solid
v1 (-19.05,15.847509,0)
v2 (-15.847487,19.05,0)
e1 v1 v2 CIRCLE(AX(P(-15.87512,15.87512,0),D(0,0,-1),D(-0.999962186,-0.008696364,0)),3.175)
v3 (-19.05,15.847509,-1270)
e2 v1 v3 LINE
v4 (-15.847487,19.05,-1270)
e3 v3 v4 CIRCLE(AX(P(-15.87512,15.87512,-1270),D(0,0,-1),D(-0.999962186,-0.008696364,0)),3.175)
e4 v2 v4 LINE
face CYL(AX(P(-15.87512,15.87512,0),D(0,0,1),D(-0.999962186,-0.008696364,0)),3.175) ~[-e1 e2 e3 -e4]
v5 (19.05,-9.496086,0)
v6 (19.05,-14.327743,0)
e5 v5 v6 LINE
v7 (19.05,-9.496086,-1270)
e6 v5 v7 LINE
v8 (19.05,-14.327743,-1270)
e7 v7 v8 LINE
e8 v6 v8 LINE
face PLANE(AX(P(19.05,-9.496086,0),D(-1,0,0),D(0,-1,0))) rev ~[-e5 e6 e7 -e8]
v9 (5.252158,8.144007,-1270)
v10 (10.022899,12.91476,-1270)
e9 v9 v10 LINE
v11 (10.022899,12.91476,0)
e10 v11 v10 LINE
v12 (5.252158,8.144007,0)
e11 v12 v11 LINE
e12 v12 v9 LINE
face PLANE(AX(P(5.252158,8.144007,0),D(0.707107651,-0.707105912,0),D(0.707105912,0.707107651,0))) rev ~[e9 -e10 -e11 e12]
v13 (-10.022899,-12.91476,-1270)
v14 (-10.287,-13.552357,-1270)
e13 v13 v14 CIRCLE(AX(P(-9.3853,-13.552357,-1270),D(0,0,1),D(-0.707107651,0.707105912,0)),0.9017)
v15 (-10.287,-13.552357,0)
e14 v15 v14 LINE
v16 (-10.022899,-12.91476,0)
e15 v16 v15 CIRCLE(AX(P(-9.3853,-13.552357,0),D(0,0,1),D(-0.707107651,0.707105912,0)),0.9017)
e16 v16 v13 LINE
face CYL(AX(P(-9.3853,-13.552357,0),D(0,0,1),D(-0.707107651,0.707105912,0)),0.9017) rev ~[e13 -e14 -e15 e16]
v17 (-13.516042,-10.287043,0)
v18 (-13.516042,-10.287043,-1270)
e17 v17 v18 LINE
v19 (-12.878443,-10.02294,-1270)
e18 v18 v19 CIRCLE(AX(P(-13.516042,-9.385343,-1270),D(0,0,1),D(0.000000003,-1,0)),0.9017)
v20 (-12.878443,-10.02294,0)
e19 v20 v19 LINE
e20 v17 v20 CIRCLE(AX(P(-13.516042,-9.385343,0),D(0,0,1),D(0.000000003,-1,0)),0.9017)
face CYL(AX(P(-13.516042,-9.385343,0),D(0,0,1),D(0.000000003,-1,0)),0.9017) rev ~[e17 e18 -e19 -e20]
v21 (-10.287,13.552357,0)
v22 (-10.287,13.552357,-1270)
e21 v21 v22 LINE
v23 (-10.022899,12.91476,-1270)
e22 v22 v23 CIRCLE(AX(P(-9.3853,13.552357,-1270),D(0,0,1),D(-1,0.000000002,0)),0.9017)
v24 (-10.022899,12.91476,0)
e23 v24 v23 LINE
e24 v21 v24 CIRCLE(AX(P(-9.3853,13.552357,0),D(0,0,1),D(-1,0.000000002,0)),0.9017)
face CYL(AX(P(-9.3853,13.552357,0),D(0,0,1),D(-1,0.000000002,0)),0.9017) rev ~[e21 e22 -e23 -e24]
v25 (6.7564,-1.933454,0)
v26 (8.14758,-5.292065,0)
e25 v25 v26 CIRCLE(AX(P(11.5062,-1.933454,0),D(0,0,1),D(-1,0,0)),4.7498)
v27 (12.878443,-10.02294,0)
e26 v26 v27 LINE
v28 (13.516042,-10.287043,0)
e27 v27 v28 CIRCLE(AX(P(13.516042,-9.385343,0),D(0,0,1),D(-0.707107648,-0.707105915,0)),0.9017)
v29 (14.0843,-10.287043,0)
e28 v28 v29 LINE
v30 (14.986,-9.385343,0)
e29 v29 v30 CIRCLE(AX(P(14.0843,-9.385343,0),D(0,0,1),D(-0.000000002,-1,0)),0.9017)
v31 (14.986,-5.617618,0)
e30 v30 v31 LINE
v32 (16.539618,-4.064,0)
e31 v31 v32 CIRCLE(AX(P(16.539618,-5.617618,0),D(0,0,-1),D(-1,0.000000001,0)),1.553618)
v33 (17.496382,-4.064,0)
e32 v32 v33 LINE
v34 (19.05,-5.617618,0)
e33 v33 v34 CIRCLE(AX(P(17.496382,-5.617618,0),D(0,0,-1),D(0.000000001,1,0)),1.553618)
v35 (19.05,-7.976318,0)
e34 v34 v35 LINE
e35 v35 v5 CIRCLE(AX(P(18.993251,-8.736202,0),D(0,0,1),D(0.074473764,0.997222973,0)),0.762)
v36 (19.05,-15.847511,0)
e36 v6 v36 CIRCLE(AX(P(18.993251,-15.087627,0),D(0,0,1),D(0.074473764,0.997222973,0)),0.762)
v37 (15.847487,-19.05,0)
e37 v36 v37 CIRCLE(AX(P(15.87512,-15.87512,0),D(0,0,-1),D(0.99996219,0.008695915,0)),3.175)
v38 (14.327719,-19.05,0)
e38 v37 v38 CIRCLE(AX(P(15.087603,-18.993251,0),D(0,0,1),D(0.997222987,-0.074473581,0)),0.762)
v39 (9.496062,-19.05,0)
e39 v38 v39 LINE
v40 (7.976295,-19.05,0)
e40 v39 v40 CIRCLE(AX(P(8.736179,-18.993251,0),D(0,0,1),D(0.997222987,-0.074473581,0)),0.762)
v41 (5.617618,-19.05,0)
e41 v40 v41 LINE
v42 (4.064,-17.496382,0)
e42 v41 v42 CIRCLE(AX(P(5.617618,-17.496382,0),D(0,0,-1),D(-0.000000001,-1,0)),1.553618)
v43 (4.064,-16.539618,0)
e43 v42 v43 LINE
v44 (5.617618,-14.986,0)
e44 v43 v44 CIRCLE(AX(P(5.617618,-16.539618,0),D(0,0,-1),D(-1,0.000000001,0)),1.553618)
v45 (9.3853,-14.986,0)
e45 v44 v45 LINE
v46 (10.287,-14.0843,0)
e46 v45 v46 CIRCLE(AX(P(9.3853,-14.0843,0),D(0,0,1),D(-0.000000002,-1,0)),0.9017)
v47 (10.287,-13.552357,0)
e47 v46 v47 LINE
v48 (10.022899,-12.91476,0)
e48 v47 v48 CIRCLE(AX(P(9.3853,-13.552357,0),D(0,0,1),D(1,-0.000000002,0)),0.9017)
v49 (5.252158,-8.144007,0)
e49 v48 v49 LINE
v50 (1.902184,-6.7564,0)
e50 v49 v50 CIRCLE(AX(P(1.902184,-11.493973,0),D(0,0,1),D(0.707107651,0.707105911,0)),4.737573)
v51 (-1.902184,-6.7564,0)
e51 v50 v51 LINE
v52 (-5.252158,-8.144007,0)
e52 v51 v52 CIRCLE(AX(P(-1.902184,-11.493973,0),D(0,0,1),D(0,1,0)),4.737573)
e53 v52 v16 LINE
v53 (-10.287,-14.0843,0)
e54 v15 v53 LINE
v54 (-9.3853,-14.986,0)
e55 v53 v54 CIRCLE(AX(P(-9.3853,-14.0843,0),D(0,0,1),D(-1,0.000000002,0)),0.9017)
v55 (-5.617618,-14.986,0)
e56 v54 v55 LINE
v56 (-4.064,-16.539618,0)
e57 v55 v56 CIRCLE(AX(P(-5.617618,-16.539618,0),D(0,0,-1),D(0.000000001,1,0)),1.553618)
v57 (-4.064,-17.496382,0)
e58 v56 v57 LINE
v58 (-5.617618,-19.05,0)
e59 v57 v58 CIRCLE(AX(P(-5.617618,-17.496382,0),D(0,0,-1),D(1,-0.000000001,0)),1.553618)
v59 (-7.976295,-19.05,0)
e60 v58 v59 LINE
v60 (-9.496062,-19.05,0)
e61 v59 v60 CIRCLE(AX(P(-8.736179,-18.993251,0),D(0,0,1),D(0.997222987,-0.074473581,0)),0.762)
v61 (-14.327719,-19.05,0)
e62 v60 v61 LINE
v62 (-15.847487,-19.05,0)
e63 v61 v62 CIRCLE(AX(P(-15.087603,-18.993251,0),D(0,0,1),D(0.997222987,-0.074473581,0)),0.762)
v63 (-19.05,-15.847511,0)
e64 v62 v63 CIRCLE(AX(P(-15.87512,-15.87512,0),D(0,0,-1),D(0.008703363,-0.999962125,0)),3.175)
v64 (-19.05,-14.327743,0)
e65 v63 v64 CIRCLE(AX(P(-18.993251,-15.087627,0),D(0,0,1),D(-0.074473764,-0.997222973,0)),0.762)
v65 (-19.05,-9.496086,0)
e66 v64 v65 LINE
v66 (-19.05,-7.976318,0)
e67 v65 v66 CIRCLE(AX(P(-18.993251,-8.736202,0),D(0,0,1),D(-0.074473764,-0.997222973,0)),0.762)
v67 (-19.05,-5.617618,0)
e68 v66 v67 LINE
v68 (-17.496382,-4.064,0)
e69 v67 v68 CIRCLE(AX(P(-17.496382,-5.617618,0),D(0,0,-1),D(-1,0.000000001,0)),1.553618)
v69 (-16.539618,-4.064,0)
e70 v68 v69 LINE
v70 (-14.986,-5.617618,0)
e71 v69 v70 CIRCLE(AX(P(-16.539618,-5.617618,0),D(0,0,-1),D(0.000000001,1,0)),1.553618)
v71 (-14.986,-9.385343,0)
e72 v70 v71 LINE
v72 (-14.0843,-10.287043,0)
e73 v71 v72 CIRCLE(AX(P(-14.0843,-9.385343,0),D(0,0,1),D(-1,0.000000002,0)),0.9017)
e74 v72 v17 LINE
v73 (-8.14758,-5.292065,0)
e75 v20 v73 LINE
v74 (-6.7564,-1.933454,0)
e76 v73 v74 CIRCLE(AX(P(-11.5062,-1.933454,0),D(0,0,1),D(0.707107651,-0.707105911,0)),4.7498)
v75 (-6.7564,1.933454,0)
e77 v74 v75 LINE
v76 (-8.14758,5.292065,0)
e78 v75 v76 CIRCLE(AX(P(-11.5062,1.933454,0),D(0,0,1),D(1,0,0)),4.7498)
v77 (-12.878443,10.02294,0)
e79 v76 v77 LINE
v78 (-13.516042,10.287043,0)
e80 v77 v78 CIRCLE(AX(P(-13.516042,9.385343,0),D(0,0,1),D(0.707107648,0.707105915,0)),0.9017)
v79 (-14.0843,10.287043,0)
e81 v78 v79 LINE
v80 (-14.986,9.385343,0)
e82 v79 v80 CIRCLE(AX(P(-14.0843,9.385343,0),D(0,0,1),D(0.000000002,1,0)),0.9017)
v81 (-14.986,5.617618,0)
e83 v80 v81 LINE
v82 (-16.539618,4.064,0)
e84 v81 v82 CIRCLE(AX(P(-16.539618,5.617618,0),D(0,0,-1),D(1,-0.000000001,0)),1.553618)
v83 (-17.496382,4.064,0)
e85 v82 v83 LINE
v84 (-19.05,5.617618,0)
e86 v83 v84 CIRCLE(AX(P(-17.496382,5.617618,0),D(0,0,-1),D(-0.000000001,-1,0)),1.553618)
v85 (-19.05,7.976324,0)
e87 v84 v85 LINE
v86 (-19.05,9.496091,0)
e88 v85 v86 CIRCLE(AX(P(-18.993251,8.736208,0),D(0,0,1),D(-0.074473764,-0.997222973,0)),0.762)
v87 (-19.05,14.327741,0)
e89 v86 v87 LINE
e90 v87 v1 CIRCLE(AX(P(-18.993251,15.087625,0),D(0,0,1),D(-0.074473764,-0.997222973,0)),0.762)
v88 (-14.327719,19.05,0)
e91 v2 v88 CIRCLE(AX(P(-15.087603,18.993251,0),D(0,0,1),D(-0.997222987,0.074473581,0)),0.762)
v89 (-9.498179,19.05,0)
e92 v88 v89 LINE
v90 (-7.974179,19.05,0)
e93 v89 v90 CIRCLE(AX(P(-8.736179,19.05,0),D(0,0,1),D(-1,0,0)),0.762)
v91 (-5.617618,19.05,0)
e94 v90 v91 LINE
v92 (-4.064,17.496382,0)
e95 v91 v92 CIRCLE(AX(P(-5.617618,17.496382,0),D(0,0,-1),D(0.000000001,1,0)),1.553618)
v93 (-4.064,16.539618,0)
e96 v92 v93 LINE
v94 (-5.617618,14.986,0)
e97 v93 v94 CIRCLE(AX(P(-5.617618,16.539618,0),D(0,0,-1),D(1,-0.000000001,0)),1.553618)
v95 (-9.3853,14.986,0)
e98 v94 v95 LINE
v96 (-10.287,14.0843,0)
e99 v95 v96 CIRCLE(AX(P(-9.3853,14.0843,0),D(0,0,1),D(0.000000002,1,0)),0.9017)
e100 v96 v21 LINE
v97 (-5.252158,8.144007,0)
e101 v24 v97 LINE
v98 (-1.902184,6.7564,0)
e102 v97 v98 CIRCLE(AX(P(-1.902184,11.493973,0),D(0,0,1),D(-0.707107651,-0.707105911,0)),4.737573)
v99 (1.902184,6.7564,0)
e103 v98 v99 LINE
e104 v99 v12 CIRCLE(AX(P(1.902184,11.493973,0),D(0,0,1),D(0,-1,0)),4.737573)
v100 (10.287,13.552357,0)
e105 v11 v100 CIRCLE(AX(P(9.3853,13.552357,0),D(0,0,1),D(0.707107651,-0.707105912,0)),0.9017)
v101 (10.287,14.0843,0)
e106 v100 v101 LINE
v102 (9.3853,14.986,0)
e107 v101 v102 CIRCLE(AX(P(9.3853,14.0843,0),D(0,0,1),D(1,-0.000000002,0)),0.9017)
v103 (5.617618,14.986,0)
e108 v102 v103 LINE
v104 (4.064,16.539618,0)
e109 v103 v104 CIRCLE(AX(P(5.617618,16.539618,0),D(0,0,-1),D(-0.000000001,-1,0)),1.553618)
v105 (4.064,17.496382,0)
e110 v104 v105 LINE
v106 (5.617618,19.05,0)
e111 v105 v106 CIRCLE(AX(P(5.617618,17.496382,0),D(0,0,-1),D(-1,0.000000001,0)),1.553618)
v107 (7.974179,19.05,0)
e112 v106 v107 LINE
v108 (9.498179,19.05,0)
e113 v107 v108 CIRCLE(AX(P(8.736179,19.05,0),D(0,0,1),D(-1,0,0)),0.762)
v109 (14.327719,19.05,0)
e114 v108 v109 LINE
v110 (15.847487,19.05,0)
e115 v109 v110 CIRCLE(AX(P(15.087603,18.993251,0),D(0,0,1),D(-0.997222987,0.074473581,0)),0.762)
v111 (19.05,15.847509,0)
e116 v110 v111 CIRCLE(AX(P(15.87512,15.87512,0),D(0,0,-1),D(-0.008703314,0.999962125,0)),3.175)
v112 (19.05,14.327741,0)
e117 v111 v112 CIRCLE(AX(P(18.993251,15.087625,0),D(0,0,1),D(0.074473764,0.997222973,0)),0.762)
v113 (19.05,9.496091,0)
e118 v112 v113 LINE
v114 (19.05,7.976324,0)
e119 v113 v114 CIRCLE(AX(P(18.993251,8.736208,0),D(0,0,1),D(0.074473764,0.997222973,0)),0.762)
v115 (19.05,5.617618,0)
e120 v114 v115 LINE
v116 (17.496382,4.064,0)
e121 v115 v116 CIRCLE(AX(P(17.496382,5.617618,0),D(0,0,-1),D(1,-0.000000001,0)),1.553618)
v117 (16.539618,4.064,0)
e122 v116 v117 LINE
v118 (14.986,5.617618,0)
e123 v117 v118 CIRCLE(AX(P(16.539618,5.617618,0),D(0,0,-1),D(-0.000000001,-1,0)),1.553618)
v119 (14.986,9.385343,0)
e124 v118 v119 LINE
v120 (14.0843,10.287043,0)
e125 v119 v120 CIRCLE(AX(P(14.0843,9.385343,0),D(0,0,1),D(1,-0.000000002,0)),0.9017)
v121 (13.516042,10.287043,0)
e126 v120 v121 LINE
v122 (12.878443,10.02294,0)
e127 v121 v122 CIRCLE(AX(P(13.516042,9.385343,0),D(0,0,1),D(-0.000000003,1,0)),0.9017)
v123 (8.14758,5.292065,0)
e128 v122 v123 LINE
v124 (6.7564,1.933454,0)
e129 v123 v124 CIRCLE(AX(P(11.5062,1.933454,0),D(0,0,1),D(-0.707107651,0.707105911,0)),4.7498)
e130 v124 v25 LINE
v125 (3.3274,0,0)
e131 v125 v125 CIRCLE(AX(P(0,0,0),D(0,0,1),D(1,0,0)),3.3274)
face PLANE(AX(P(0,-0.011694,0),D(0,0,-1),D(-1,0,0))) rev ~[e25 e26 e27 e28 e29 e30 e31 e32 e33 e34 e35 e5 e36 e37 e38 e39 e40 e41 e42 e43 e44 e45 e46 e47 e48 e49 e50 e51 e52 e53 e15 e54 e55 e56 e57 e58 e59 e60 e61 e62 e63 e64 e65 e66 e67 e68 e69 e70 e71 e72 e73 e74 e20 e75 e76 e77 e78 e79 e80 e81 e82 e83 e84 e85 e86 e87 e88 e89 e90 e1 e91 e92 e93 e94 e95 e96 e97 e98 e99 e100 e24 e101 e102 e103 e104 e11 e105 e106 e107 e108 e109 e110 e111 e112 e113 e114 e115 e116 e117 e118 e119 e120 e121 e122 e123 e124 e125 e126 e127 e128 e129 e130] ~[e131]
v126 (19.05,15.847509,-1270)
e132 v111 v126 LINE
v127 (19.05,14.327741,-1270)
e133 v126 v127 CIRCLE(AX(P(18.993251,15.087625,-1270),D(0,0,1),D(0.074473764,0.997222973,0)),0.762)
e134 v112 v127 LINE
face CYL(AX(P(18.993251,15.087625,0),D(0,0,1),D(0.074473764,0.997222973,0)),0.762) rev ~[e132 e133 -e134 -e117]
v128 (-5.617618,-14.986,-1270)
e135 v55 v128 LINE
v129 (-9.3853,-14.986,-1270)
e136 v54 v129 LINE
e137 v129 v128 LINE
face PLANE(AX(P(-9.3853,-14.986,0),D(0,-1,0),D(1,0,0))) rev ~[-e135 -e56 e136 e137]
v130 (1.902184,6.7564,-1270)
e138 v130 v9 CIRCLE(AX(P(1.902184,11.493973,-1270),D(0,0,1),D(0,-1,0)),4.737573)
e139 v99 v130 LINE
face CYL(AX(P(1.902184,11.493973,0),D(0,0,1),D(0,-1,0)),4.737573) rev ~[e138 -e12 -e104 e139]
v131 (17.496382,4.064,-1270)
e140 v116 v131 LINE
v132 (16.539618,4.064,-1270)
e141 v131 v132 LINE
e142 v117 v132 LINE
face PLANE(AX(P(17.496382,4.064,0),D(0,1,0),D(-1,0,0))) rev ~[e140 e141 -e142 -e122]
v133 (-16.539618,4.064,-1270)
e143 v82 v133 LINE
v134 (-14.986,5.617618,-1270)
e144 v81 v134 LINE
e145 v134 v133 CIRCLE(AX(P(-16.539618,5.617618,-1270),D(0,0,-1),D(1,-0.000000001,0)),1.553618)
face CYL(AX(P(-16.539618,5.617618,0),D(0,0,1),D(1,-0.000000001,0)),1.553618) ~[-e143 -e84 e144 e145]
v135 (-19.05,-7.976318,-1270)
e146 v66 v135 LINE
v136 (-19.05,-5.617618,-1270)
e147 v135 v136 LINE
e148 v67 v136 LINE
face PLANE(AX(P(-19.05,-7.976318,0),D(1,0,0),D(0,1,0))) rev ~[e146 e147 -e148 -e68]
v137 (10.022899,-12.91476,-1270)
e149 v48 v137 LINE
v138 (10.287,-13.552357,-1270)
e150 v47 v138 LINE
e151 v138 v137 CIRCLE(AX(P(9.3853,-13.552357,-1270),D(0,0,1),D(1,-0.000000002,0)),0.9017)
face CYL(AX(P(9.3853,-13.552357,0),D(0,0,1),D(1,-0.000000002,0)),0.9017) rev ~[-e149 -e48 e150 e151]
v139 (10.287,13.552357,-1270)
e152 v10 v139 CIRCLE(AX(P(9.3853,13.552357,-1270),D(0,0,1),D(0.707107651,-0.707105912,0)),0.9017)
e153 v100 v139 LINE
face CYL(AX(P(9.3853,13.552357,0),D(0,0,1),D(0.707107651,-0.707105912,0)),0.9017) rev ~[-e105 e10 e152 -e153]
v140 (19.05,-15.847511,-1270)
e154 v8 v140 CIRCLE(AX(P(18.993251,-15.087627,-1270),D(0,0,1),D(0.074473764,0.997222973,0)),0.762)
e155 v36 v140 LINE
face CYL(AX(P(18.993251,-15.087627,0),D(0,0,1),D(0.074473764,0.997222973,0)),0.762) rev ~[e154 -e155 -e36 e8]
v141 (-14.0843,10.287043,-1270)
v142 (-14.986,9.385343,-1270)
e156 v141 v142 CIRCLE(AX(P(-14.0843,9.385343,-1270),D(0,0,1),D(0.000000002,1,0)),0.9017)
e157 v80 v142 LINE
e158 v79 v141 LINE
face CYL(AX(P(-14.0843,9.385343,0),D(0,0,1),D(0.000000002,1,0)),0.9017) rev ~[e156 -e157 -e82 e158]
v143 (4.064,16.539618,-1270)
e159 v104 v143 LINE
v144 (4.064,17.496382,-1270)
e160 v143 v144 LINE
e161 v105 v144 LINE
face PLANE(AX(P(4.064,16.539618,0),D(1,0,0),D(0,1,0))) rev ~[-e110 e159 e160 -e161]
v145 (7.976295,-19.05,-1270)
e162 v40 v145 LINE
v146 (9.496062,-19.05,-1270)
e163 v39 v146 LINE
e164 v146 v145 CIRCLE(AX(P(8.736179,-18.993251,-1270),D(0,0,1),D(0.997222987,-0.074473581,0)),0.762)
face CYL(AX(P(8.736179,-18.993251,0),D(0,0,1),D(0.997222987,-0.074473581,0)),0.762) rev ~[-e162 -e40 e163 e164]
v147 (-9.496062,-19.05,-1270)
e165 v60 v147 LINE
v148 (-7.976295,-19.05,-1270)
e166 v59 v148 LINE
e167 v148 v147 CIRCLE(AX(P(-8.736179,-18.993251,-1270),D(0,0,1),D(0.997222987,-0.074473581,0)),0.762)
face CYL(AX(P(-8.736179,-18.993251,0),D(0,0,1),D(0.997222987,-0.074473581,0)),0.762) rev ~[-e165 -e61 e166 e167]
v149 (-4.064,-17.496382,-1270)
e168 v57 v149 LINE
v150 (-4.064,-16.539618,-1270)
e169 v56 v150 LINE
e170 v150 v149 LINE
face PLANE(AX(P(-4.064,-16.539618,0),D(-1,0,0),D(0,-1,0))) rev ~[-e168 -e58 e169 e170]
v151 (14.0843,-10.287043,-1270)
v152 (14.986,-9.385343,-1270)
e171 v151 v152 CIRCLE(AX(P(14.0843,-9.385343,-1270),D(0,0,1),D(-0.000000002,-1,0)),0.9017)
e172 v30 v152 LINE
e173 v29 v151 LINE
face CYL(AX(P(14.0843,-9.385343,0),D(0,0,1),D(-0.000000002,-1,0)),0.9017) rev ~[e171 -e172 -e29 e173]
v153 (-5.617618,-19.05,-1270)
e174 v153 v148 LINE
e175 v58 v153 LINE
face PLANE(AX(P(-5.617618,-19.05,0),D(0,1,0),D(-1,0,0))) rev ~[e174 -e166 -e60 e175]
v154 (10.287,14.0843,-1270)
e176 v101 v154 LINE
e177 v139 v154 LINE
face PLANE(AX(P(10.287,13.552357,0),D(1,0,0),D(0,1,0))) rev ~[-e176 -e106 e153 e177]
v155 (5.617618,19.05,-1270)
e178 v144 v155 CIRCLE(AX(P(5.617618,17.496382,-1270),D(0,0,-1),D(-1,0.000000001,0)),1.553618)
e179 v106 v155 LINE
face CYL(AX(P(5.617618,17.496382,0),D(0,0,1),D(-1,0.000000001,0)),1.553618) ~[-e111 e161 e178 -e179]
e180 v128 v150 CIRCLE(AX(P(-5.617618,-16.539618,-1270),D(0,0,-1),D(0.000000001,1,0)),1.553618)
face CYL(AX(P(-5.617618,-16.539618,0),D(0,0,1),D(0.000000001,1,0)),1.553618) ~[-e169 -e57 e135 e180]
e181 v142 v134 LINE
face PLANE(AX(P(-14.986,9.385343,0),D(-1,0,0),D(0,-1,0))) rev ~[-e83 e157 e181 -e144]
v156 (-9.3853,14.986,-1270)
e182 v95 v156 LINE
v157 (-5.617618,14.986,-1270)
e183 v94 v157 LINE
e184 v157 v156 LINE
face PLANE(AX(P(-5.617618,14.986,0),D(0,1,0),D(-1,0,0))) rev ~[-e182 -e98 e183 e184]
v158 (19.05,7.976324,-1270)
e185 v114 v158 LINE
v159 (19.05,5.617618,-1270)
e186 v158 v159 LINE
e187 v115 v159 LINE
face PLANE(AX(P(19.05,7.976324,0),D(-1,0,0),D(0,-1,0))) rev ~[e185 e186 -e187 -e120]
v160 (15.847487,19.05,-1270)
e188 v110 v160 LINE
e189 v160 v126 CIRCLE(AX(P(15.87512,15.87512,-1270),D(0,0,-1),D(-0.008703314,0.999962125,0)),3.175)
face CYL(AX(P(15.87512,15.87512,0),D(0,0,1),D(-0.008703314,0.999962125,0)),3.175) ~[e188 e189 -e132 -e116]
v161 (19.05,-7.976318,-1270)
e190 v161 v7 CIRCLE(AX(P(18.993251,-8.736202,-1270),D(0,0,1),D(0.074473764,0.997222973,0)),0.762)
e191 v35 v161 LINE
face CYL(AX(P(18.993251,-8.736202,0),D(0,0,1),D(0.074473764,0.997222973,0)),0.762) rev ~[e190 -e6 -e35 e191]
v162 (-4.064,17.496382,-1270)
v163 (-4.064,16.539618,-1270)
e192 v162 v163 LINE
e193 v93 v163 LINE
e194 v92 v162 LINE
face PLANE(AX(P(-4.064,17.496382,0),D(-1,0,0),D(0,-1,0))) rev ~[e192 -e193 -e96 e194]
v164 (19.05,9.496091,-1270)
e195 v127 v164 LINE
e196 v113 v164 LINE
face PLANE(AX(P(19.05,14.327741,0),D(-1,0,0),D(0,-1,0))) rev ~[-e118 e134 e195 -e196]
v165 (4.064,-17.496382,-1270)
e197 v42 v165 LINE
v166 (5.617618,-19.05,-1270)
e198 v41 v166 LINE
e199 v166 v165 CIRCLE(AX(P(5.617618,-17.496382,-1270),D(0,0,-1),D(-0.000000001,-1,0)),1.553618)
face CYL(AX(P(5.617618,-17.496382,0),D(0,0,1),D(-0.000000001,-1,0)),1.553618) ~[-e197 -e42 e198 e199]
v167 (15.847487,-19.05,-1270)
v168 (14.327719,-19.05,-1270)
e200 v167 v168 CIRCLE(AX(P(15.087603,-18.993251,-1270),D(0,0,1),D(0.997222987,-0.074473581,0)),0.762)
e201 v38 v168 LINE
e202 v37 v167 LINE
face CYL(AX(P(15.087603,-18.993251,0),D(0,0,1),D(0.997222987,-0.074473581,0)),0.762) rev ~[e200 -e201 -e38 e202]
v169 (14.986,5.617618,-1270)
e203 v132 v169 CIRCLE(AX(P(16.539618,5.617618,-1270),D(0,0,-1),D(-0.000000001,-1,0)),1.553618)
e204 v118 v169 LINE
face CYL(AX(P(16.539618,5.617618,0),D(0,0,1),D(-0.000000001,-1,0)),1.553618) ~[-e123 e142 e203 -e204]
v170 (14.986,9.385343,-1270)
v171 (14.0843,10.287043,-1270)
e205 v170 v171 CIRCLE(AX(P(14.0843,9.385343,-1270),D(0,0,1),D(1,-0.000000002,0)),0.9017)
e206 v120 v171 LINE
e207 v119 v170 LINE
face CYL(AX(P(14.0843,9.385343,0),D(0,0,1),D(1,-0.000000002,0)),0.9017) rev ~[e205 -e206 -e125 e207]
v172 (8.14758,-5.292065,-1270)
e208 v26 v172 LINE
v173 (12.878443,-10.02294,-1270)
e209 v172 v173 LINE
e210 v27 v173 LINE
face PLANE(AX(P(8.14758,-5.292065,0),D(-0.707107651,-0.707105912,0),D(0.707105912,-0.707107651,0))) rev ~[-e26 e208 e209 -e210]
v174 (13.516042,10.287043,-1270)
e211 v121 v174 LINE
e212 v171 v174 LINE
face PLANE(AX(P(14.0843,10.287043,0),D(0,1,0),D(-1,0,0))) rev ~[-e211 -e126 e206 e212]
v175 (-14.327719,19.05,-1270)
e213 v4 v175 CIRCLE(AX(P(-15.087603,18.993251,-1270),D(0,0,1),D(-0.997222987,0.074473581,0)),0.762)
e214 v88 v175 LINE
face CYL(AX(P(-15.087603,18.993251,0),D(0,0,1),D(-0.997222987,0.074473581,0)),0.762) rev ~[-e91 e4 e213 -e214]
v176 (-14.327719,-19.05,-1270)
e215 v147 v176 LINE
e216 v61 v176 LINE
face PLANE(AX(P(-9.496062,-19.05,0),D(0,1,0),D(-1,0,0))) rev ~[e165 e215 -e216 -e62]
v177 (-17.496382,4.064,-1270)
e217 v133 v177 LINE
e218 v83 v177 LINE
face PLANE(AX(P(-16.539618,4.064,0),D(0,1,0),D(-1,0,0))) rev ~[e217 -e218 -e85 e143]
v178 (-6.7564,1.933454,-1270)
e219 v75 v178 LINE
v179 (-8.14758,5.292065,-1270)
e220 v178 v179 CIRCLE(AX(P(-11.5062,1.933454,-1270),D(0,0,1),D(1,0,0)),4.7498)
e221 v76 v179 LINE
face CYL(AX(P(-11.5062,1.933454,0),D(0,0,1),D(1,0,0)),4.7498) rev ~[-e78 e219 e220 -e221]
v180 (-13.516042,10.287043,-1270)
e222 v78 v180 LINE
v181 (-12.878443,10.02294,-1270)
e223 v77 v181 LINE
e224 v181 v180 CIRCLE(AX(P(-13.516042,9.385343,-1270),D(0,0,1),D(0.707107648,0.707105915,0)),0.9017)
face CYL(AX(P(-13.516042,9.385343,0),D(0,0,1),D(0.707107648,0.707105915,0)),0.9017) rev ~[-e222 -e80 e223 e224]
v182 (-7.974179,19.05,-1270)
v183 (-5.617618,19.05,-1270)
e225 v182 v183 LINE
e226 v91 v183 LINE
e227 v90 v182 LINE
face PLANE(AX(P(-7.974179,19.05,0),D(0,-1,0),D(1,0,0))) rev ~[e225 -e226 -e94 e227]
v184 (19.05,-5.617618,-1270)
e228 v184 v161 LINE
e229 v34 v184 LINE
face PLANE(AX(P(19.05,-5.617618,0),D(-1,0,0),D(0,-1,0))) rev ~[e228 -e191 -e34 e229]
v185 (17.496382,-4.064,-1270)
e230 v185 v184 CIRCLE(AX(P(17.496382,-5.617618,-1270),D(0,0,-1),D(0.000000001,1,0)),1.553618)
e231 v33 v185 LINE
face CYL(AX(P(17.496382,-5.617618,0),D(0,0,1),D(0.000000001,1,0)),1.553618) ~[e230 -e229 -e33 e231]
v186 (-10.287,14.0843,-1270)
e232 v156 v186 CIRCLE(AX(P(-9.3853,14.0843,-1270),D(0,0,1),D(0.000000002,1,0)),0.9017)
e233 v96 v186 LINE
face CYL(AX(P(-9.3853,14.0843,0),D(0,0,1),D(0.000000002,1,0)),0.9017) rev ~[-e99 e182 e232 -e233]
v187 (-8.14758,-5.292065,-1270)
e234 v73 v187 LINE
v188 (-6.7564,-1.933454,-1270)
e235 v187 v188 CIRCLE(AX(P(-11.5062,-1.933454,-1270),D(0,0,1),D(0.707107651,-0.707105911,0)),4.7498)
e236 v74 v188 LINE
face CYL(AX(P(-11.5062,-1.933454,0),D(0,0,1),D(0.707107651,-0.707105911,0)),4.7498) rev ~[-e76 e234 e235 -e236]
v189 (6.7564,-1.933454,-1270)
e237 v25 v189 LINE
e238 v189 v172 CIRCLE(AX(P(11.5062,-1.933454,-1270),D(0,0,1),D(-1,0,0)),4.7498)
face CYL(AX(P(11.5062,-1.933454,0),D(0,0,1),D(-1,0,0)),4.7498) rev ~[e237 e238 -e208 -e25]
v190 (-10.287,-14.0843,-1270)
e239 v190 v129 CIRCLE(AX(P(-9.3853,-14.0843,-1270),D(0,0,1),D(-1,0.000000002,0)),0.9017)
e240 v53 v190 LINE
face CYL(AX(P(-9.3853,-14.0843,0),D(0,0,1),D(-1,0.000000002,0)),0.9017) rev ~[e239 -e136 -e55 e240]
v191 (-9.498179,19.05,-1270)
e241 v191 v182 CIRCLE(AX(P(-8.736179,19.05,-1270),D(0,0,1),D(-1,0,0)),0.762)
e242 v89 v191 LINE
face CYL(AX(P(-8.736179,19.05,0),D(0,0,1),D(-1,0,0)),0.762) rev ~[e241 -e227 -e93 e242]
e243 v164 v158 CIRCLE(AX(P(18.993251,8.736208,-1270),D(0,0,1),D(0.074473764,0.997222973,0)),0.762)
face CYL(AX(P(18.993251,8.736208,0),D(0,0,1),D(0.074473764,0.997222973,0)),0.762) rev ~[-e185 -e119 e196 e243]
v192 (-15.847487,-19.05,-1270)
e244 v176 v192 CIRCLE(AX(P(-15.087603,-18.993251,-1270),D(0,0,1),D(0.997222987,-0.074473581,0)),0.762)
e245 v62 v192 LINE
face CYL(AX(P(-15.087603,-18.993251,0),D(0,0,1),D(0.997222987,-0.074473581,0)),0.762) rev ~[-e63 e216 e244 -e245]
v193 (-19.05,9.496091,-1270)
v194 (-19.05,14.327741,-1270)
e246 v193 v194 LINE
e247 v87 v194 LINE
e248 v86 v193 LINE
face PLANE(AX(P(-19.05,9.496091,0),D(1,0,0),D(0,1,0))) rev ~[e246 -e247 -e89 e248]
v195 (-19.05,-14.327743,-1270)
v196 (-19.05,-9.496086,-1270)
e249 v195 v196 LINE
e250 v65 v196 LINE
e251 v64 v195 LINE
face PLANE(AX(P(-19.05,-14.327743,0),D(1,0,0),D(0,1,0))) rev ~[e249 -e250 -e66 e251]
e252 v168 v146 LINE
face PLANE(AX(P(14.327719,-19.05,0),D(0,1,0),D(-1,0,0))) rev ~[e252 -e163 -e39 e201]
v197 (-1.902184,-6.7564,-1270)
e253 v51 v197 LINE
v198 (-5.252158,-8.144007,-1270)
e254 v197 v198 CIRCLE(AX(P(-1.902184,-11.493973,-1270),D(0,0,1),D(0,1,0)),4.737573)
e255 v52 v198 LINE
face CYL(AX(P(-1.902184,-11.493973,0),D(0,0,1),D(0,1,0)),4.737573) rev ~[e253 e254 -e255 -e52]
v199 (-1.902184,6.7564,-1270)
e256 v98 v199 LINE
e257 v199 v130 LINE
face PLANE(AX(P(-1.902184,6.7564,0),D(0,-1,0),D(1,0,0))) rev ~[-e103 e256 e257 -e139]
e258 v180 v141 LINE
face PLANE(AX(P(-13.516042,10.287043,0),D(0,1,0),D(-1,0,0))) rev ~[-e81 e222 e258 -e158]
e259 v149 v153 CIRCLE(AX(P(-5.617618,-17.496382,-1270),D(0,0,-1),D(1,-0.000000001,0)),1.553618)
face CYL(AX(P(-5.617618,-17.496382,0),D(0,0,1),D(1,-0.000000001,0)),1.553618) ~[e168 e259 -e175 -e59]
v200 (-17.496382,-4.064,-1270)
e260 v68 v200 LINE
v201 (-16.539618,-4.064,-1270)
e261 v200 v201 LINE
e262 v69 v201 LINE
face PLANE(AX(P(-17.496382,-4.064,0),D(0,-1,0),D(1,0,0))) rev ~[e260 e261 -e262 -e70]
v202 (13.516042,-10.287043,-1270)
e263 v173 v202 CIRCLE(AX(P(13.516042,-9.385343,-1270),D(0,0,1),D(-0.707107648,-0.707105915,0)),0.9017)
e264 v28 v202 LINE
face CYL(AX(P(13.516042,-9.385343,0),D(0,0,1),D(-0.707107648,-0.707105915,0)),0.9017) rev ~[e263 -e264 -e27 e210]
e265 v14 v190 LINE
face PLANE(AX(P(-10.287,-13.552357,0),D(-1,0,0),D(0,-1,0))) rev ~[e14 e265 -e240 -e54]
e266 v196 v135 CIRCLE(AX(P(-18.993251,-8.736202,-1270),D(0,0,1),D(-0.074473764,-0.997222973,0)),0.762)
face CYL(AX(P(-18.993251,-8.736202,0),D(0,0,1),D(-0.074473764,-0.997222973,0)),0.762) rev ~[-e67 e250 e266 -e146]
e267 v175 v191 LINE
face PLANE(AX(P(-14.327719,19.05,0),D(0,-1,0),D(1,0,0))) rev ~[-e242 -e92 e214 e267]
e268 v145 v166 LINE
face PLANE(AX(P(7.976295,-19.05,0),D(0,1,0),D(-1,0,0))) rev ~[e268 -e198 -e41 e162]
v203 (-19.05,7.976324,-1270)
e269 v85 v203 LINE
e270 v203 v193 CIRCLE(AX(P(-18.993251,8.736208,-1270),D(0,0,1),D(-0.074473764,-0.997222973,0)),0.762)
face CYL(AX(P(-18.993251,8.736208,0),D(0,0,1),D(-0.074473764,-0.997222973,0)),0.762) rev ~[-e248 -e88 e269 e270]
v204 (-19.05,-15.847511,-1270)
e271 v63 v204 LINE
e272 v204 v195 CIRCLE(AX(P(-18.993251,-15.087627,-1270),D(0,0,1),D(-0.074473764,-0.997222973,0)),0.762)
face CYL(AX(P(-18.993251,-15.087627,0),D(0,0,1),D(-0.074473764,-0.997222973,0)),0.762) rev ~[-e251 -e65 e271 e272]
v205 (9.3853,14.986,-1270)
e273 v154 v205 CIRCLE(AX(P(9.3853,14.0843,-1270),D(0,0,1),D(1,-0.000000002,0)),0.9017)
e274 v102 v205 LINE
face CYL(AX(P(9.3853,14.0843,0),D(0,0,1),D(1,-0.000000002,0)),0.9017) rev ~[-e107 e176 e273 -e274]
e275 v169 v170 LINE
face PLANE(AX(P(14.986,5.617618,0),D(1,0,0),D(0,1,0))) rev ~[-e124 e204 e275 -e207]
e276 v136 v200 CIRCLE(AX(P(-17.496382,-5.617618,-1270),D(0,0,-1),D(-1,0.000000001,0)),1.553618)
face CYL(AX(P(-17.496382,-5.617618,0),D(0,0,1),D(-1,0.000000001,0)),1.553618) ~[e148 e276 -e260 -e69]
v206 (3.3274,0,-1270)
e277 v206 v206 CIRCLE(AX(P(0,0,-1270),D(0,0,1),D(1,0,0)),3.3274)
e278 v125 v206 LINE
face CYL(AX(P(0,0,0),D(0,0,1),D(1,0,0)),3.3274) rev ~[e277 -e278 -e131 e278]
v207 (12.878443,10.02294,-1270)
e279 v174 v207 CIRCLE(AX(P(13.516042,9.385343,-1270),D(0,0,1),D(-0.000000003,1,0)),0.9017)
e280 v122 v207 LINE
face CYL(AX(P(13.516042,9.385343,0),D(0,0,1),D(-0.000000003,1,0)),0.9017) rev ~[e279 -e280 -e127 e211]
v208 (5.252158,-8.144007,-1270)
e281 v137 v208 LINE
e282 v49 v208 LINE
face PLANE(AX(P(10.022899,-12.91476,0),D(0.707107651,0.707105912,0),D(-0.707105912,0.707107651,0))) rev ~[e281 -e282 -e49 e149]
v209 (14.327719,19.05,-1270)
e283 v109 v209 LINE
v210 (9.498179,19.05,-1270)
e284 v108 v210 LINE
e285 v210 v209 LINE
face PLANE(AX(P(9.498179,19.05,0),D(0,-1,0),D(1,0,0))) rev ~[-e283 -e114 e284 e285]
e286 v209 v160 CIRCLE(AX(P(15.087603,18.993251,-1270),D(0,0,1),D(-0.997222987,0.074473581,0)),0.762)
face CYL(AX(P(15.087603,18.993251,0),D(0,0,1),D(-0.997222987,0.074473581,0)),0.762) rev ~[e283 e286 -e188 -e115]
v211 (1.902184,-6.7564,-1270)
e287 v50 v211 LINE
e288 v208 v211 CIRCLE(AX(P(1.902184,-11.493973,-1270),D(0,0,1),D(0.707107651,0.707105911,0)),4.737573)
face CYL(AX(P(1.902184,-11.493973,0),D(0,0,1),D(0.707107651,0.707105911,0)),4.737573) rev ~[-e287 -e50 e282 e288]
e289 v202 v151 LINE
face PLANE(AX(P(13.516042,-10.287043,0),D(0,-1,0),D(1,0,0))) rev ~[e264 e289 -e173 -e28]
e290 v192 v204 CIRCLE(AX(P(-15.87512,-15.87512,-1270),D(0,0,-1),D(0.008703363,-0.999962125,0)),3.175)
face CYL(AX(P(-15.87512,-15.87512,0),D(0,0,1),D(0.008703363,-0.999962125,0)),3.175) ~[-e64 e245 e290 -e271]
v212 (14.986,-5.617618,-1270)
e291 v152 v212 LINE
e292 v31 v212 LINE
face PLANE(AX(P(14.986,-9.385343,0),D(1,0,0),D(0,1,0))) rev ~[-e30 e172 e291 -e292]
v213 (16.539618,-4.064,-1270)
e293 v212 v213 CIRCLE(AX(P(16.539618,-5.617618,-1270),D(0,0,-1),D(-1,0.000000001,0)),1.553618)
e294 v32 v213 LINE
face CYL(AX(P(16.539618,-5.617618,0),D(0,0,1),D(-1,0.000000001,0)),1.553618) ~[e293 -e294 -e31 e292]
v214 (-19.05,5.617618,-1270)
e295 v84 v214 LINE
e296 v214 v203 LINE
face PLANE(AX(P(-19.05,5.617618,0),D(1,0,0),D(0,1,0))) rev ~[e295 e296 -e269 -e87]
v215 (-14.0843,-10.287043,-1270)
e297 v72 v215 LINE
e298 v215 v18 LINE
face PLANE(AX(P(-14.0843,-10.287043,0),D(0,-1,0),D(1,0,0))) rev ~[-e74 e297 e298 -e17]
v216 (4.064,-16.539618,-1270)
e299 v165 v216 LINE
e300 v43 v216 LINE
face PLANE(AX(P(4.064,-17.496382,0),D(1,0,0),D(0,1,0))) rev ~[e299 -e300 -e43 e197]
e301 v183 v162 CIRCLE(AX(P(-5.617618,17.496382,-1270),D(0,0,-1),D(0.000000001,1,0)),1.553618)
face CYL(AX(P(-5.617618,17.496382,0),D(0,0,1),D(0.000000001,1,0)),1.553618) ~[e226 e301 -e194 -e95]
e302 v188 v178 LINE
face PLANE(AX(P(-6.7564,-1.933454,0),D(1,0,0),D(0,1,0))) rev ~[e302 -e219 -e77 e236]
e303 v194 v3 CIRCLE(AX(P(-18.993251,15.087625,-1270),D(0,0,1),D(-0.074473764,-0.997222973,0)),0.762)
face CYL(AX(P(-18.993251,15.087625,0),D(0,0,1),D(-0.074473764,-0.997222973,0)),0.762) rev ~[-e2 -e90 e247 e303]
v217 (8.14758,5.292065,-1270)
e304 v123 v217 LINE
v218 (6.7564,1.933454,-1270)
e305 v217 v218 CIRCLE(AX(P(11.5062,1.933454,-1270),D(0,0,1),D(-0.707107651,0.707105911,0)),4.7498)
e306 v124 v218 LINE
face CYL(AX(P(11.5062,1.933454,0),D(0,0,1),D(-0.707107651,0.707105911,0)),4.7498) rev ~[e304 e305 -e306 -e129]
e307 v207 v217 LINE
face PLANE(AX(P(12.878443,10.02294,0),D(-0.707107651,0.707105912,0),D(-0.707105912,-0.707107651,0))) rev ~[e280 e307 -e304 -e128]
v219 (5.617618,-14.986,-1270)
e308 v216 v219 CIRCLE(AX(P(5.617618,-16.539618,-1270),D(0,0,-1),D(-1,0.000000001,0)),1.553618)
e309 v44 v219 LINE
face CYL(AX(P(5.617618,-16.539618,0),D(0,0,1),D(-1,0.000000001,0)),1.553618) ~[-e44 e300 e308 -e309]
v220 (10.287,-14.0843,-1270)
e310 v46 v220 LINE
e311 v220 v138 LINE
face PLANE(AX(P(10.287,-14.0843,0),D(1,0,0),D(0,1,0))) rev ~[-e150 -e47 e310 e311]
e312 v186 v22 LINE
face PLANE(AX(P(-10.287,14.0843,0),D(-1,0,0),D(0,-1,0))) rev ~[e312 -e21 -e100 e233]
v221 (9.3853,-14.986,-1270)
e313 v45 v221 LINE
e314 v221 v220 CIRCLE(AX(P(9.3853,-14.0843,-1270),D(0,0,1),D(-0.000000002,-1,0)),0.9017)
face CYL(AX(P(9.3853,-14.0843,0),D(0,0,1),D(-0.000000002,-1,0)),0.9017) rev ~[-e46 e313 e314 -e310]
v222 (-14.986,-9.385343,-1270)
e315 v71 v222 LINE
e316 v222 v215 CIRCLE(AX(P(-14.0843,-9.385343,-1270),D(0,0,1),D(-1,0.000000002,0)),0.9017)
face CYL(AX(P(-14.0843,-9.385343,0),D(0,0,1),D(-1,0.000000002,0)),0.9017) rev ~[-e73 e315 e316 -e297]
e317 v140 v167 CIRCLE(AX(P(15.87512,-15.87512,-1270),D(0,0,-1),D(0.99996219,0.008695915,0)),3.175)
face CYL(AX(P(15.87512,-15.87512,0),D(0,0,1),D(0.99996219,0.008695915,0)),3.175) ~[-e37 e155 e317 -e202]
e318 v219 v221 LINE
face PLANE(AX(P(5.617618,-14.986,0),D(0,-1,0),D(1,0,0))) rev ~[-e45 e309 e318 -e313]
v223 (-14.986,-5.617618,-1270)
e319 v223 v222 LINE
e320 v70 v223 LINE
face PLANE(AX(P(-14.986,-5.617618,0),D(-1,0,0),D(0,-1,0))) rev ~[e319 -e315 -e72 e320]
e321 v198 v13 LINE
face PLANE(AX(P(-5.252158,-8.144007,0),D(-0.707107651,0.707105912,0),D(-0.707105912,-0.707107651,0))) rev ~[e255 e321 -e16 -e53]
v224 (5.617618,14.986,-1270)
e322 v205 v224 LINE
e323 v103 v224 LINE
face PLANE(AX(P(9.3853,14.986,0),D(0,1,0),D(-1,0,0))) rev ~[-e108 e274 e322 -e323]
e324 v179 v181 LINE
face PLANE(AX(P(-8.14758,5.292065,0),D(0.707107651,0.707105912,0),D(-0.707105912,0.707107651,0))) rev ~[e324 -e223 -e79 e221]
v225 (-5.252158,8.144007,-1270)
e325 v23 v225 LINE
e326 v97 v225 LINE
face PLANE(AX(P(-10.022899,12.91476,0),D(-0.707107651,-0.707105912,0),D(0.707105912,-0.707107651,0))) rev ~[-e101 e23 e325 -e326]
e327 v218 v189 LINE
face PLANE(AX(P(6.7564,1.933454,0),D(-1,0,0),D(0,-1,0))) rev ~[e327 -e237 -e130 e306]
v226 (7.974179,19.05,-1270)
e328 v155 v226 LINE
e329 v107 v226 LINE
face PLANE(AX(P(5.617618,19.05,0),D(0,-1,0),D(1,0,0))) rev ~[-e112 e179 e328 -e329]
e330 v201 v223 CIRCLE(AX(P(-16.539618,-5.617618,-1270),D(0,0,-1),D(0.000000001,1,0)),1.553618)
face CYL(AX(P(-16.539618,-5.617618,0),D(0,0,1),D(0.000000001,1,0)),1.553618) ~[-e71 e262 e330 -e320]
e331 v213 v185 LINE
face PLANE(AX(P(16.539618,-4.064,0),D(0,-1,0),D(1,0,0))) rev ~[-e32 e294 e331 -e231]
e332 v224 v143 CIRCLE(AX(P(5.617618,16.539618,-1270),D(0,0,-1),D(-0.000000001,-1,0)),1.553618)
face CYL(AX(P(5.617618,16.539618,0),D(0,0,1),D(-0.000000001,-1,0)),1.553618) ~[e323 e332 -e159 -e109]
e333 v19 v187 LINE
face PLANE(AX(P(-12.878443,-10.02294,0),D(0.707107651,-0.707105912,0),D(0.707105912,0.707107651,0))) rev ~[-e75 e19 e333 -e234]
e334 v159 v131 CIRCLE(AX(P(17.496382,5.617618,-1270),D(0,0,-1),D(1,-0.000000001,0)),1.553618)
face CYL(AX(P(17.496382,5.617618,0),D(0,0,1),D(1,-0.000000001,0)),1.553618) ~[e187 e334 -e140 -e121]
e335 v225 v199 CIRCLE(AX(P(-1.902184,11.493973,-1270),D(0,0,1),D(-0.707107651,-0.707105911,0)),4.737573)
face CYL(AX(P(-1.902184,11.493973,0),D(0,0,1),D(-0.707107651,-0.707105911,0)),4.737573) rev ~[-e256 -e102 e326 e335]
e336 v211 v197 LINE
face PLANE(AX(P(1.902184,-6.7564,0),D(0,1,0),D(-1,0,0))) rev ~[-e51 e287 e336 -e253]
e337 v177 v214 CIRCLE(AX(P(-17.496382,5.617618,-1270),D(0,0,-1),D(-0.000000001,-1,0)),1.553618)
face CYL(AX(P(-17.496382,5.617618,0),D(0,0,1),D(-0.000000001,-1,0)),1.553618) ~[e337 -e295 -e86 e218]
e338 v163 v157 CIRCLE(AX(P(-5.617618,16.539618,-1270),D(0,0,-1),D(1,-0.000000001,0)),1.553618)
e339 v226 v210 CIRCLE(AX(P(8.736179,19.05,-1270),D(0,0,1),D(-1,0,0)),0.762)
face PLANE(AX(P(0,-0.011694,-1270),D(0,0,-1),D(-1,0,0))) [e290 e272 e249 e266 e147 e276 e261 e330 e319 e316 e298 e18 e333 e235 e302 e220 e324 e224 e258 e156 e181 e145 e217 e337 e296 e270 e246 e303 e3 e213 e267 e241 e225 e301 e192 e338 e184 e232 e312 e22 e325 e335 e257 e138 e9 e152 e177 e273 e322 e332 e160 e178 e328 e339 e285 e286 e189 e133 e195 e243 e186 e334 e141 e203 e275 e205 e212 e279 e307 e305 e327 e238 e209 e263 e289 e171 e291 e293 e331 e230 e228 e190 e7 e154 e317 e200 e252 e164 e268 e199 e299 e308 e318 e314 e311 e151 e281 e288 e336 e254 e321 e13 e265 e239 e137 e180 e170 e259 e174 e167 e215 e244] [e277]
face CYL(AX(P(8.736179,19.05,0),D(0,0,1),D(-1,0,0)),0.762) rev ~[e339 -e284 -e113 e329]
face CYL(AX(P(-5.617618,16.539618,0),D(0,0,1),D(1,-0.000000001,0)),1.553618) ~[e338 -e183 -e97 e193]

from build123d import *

# Parameters (mm, degrees)
SKETCH1_R      = 3.3274
EXTRUDE1_DEPTH = 1270


with BuildPart() as part:
    # Sketch1 → Extrude1 (new body)
    with BuildSketch(Plane.XY):
        with BuildLine():
            Line((-10.022898969, 12.91475973), (-5.252158105, 8.144007132))
            ThreePointArc((-5.252158105, 8.144007132), (-3.715177372, 7.117027388), (-1.902183975, 6.7564))
            Line((-1.902183975, 6.7564), (1.902183975, 6.7564))
            ThreePointArc((1.902183975, 6.7564), (3.715177372, 7.117027388), (5.252158105, 8.144007132))
            Line((5.252158105, 8.144007132), (10.022898969, 12.91475973))
            ThreePointArc((10.022898969, 12.91475973), (10.218362387, 13.207291992), (10.287, 13.552357131))
            Line((10.287, 13.552357131), (10.287, 14.0843))
            ThreePointArc((10.287, 14.0843), (10.022898185, 14.721898185), (9.3853, 14.986))
            Line((9.3853, 14.986), (5.617617549, 14.986))
            ThreePointArc((5.617617549, 14.986), (4.519044045, 15.441044045), (4.064, 16.539617549))
            Line((4.064, 16.539617549), (4.064, 17.496382451))
            ThreePointArc((4.064, 17.496382451), (4.519044045, 18.594955955), (5.617617549, 19.05))
            Line((5.617617549, 19.05), (7.974178704, 19.05))
            ThreePointArc((7.974178704, 19.05), (8.736178704, 18.288), (9.498178704, 19.05))
            Line((9.498178704, 19.05), (14.327719207, 19.05))
            ThreePointArc((14.327719207, 19.05), (15.087603123, 18.231251131), (15.847487039, 19.05))
            ThreePointArc((15.847487039, 19.05), (18.120176289, 18.120192083), (19.05, 15.847509295))
            ThreePointArc((19.05, 15.847509295), (18.231250992, 15.08762539), (19.05, 14.327741484))
            Line((19.05, 14.327741484), (19.05, 9.496091471))
            ThreePointArc((19.05, 9.496091471), (18.231250992, 8.736207565), (19.05, 7.97632366))
            Line((19.05, 7.97632366), (19.05, 5.617617549))
            ThreePointArc((19.05, 5.617617549), (18.594955955, 4.519044045), (17.496382451, 4.064))
            Line((17.496382451, 4.064), (16.539617549, 4.064))
            ThreePointArc((16.539617549, 4.064), (15.441044045, 4.519044045), (14.986, 5.617617549))
            Line((14.986, 5.617617549), (14.986, 9.385342516))
            ThreePointArc((14.986, 9.385342516), (14.721898185, 10.022940701), (14.0843, 10.287042516))
            Line((14.0843, 10.287042516), (13.516042086, 10.287042516))
            ThreePointArc((13.516042086, 10.287042516), (13.170975923, 10.218404478), (12.878443117, 10.022939917))
            Line((12.878443117, 10.022939917), (8.14758008, 5.292065243))
            ThreePointArc((8.14758008, 5.292065243), (7.117955879, 3.751120653), (6.7564, 1.933453584))
            Line((6.7564, 1.933453584), (6.7564, -1.933453584))
            ThreePointArc((6.7564, -1.933453584), (7.117955879, -3.751120653), (8.14758008, -5.292065243))
            Line((8.14758008, -5.292065243), (12.878443117, -10.022939917))
            ThreePointArc((12.878443117, -10.022939917), (13.170975923, -10.218404478), (13.516042086, -10.287042516))
            Line((13.516042086, -10.287042516), (14.0843, -10.287042516))
            ThreePointArc((14.0843, -10.287042516), (14.721898185, -10.022940701), (14.986, -9.385342516))
            Line((14.986, -9.385342516), (14.986, -5.617617549))
            ThreePointArc((14.986, -5.617617549), (15.441044045, -4.519044045), (16.539617549, -4.064))
            Line((16.539617549, -4.064), (17.496382451, -4.064))
            ThreePointArc((17.496382451, -4.064), (18.594955955, -4.519044045), (19.05, -5.617617549))
            Line((19.05, -5.617617549), (19.05, -7.976318491))
            ThreePointArc((19.05, -7.976318491), (18.231250992, -8.736202396), (19.05, -9.496086302))
            Line((19.05, -9.496086302), (19.05, -14.32774291))
            ThreePointArc((19.05, -14.32774291), (18.231250992, -15.087626816), (19.05, -15.847510721))
            ThreePointArc((19.05, -15.847510721), (18.120175716, -18.120192644), (15.847486868, -19.05))
            ThreePointArc((15.847486868, -19.05), (15.087602952, -18.231251131), (14.327719036, -19.05))
            Line((14.327719036, -19.05), (9.496062448, -19.05))
            ThreePointArc((9.496062448, -19.05), (8.736178532, -18.231251131), (7.976294616, -19.05))
            Line((7.976294616, -19.05), (5.617617549, -19.05))
            ThreePointArc((5.617617549, -19.05), (4.519044045, -18.594955955), (4.064, -17.496382451))
            Line((4.064, -17.496382451), (4.064, -16.539617549))
            ThreePointArc((4.064, -16.539617549), (4.519044045, -15.441044045), (5.617617549, -14.986))
            Line((5.617617549, -14.986), (9.3853, -14.986))
            ThreePointArc((9.3853, -14.986), (10.022898185, -14.721898185), (10.287, -14.0843))
            Line((10.287, -14.0843), (10.287, -13.552357131))
            ThreePointArc((10.287, -13.552357131), (10.218362387, -13.207291992), (10.022898969, -12.91475973))
            Line((10.022898969, -12.91475973), (5.252158105, -8.144007132))
            ThreePointArc((5.252158105, -8.144007132), (3.715177372, -7.117027388), (1.902183975, -6.7564))
            Line((1.902183975, -6.7564), (-1.902183975, -6.7564))
            ThreePointArc((-1.902183975, -6.7564), (-3.715177372, -7.117027388), (-5.252158105, -8.144007132))
            Line((-5.252158105, -8.144007132), (-10.022898969, -12.91475973))
            ThreePointArc((-10.022898969, -12.91475973), (-10.218362387, -13.207291992), (-10.287, -13.552357131))
            Line((-10.287, -13.552357131), (-10.287, -14.0843))
            ThreePointArc((-10.287, -14.0843), (-10.022898185, -14.721898185), (-9.3853, -14.986))
            Line((-9.3853, -14.986), (-5.617617549, -14.986))
            ThreePointArc((-5.617617549, -14.986), (-4.519044045, -15.441044045), (-4.064, -16.539617549))
            Line((-4.064, -16.539617549), (-4.064, -17.496382451))
            ThreePointArc((-4.064, -17.496382451), (-4.519044045, -18.594955955), (-5.617617549, -19.05))
            Line((-5.617617549, -19.05), (-7.976294616, -19.05))
            ThreePointArc((-7.976294616, -19.05), (-8.736178532, -18.231251131), (-9.496062448, -19.05))
            Line((-9.496062448, -19.05), (-14.327719036, -19.05))
            ThreePointArc((-14.327719036, -19.05), (-15.087602952, -18.231251131), (-15.847486868, -19.05))
            ThreePointArc((-15.847486868, -19.05), (-18.120175716, -18.120192644), (-19.05, -15.847510721))
            ThreePointArc((-19.05, -15.847510721), (-18.231250992, -15.087626816), (-19.05, -14.32774291))
            Line((-19.05, -14.32774291), (-19.05, -9.496086302))
            ThreePointArc((-19.05, -9.496086302), (-18.231250992, -8.736202396), (-19.05, -7.976318491))
            Line((-19.05, -7.976318491), (-19.05, -5.617617549))
            ThreePointArc((-19.05, -5.617617549), (-18.594955955, -4.519044045), (-17.496382451, -4.064))
            Line((-17.496382451, -4.064), (-16.539617549, -4.064))
            ThreePointArc((-16.539617549, -4.064), (-15.441044045, -4.519044045), (-14.986, -5.617617549))
            Line((-14.986, -5.617617549), (-14.986, -9.385342516))
            ThreePointArc((-14.986, -9.385342516), (-14.721898185, -10.022940701), (-14.0843, -10.287042516))
            Line((-14.0843, -10.287042516), (-13.516042086, -10.287042516))
            ThreePointArc((-13.516042086, -10.287042516), (-13.170975923, -10.218404478), (-12.878443117, -10.022939917))
            Line((-12.878443117, -10.022939917), (-8.14758008, -5.292065243))
            ThreePointArc((-8.14758008, -5.292065243), (-7.117955879, -3.751120653), (-6.7564, -1.933453584))
            Line((-6.7564, -1.933453584), (-6.7564, 1.933453584))
            ThreePointArc((-6.7564, 1.933453584), (-7.117955879, 3.751120653), (-8.14758008, 5.292065243))
            Line((-8.14758008, 5.292065243), (-12.878443117, 10.022939917))
            ThreePointArc((-12.878443117, 10.022939917), (-13.170975923, 10.218404478), (-13.516042086, 10.287042516))
            Line((-13.516042086, 10.287042516), (-14.0843, 10.287042516))
            ThreePointArc((-14.0843, 10.287042516), (-14.721898185, 10.022940701), (-14.986, 9.385342516))
            Line((-14.986, 9.385342516), (-14.986, 5.617617549))
            ThreePointArc((-14.986, 5.617617549), (-15.441044045, 4.519044045), (-16.539617549, 4.064))
            Line((-16.539617549, 4.064), (-17.496382451, 4.064))
            ThreePointArc((-17.496382451, 4.064), (-18.594955955, 4.519044045), (-19.05, 5.617617549))
            Line((-19.05, 5.617617549), (-19.05, 7.97632366))
            ThreePointArc((-19.05, 7.97632366), (-18.231250992, 8.736207565), (-19.05, 9.496091471))
            Line((-19.05, 9.496091471), (-19.05, 14.327741484))
            ThreePointArc((-19.05, 14.327741484), (-18.231250992, 15.08762539), (-19.05, 15.847509295))
            ThreePointArc((-19.05, 15.847509295), (-18.120176289, 18.120192083), (-15.847487039, 19.05))
            ThreePointArc((-15.847487039, 19.05), (-15.087603123, 18.231251131), (-14.327719207, 19.05))
            Line((-14.327719207, 19.05), (-9.498178704, 19.05))
            ThreePointArc((-9.498178704, 19.05), (-8.736178704, 18.288), (-7.974178704, 19.05))
            Line((-7.974178704, 19.05), (-5.617617549, 19.05))
            ThreePointArc((-5.617617549, 19.05), (-4.519044045, 18.594955955), (-4.064, 17.496382451))
            Line((-4.064, 17.496382451), (-4.064, 16.539617549))
            ThreePointArc((-4.064, 16.539617549), (-4.519044045, 15.441044045), (-5.617617549, 14.986))
            Line((-5.617617549, 14.986), (-9.3853, 14.986))
            ThreePointArc((-9.3853, 14.986), (-10.022898185, 14.721898185), (-10.287, 14.0843))
            Line((-10.287, 14.0843), (-10.287, 13.552357131))
            ThreePointArc((-10.287, 13.552357131), (-10.218362387, 13.207291992), (-10.022898969, 12.91475973))
        make_face()
        Circle(SKETCH1_R, mode=Mode.SUBTRACT)
    extrude(amount=-EXTRUDE1_DEPTH)


solid = part.part
